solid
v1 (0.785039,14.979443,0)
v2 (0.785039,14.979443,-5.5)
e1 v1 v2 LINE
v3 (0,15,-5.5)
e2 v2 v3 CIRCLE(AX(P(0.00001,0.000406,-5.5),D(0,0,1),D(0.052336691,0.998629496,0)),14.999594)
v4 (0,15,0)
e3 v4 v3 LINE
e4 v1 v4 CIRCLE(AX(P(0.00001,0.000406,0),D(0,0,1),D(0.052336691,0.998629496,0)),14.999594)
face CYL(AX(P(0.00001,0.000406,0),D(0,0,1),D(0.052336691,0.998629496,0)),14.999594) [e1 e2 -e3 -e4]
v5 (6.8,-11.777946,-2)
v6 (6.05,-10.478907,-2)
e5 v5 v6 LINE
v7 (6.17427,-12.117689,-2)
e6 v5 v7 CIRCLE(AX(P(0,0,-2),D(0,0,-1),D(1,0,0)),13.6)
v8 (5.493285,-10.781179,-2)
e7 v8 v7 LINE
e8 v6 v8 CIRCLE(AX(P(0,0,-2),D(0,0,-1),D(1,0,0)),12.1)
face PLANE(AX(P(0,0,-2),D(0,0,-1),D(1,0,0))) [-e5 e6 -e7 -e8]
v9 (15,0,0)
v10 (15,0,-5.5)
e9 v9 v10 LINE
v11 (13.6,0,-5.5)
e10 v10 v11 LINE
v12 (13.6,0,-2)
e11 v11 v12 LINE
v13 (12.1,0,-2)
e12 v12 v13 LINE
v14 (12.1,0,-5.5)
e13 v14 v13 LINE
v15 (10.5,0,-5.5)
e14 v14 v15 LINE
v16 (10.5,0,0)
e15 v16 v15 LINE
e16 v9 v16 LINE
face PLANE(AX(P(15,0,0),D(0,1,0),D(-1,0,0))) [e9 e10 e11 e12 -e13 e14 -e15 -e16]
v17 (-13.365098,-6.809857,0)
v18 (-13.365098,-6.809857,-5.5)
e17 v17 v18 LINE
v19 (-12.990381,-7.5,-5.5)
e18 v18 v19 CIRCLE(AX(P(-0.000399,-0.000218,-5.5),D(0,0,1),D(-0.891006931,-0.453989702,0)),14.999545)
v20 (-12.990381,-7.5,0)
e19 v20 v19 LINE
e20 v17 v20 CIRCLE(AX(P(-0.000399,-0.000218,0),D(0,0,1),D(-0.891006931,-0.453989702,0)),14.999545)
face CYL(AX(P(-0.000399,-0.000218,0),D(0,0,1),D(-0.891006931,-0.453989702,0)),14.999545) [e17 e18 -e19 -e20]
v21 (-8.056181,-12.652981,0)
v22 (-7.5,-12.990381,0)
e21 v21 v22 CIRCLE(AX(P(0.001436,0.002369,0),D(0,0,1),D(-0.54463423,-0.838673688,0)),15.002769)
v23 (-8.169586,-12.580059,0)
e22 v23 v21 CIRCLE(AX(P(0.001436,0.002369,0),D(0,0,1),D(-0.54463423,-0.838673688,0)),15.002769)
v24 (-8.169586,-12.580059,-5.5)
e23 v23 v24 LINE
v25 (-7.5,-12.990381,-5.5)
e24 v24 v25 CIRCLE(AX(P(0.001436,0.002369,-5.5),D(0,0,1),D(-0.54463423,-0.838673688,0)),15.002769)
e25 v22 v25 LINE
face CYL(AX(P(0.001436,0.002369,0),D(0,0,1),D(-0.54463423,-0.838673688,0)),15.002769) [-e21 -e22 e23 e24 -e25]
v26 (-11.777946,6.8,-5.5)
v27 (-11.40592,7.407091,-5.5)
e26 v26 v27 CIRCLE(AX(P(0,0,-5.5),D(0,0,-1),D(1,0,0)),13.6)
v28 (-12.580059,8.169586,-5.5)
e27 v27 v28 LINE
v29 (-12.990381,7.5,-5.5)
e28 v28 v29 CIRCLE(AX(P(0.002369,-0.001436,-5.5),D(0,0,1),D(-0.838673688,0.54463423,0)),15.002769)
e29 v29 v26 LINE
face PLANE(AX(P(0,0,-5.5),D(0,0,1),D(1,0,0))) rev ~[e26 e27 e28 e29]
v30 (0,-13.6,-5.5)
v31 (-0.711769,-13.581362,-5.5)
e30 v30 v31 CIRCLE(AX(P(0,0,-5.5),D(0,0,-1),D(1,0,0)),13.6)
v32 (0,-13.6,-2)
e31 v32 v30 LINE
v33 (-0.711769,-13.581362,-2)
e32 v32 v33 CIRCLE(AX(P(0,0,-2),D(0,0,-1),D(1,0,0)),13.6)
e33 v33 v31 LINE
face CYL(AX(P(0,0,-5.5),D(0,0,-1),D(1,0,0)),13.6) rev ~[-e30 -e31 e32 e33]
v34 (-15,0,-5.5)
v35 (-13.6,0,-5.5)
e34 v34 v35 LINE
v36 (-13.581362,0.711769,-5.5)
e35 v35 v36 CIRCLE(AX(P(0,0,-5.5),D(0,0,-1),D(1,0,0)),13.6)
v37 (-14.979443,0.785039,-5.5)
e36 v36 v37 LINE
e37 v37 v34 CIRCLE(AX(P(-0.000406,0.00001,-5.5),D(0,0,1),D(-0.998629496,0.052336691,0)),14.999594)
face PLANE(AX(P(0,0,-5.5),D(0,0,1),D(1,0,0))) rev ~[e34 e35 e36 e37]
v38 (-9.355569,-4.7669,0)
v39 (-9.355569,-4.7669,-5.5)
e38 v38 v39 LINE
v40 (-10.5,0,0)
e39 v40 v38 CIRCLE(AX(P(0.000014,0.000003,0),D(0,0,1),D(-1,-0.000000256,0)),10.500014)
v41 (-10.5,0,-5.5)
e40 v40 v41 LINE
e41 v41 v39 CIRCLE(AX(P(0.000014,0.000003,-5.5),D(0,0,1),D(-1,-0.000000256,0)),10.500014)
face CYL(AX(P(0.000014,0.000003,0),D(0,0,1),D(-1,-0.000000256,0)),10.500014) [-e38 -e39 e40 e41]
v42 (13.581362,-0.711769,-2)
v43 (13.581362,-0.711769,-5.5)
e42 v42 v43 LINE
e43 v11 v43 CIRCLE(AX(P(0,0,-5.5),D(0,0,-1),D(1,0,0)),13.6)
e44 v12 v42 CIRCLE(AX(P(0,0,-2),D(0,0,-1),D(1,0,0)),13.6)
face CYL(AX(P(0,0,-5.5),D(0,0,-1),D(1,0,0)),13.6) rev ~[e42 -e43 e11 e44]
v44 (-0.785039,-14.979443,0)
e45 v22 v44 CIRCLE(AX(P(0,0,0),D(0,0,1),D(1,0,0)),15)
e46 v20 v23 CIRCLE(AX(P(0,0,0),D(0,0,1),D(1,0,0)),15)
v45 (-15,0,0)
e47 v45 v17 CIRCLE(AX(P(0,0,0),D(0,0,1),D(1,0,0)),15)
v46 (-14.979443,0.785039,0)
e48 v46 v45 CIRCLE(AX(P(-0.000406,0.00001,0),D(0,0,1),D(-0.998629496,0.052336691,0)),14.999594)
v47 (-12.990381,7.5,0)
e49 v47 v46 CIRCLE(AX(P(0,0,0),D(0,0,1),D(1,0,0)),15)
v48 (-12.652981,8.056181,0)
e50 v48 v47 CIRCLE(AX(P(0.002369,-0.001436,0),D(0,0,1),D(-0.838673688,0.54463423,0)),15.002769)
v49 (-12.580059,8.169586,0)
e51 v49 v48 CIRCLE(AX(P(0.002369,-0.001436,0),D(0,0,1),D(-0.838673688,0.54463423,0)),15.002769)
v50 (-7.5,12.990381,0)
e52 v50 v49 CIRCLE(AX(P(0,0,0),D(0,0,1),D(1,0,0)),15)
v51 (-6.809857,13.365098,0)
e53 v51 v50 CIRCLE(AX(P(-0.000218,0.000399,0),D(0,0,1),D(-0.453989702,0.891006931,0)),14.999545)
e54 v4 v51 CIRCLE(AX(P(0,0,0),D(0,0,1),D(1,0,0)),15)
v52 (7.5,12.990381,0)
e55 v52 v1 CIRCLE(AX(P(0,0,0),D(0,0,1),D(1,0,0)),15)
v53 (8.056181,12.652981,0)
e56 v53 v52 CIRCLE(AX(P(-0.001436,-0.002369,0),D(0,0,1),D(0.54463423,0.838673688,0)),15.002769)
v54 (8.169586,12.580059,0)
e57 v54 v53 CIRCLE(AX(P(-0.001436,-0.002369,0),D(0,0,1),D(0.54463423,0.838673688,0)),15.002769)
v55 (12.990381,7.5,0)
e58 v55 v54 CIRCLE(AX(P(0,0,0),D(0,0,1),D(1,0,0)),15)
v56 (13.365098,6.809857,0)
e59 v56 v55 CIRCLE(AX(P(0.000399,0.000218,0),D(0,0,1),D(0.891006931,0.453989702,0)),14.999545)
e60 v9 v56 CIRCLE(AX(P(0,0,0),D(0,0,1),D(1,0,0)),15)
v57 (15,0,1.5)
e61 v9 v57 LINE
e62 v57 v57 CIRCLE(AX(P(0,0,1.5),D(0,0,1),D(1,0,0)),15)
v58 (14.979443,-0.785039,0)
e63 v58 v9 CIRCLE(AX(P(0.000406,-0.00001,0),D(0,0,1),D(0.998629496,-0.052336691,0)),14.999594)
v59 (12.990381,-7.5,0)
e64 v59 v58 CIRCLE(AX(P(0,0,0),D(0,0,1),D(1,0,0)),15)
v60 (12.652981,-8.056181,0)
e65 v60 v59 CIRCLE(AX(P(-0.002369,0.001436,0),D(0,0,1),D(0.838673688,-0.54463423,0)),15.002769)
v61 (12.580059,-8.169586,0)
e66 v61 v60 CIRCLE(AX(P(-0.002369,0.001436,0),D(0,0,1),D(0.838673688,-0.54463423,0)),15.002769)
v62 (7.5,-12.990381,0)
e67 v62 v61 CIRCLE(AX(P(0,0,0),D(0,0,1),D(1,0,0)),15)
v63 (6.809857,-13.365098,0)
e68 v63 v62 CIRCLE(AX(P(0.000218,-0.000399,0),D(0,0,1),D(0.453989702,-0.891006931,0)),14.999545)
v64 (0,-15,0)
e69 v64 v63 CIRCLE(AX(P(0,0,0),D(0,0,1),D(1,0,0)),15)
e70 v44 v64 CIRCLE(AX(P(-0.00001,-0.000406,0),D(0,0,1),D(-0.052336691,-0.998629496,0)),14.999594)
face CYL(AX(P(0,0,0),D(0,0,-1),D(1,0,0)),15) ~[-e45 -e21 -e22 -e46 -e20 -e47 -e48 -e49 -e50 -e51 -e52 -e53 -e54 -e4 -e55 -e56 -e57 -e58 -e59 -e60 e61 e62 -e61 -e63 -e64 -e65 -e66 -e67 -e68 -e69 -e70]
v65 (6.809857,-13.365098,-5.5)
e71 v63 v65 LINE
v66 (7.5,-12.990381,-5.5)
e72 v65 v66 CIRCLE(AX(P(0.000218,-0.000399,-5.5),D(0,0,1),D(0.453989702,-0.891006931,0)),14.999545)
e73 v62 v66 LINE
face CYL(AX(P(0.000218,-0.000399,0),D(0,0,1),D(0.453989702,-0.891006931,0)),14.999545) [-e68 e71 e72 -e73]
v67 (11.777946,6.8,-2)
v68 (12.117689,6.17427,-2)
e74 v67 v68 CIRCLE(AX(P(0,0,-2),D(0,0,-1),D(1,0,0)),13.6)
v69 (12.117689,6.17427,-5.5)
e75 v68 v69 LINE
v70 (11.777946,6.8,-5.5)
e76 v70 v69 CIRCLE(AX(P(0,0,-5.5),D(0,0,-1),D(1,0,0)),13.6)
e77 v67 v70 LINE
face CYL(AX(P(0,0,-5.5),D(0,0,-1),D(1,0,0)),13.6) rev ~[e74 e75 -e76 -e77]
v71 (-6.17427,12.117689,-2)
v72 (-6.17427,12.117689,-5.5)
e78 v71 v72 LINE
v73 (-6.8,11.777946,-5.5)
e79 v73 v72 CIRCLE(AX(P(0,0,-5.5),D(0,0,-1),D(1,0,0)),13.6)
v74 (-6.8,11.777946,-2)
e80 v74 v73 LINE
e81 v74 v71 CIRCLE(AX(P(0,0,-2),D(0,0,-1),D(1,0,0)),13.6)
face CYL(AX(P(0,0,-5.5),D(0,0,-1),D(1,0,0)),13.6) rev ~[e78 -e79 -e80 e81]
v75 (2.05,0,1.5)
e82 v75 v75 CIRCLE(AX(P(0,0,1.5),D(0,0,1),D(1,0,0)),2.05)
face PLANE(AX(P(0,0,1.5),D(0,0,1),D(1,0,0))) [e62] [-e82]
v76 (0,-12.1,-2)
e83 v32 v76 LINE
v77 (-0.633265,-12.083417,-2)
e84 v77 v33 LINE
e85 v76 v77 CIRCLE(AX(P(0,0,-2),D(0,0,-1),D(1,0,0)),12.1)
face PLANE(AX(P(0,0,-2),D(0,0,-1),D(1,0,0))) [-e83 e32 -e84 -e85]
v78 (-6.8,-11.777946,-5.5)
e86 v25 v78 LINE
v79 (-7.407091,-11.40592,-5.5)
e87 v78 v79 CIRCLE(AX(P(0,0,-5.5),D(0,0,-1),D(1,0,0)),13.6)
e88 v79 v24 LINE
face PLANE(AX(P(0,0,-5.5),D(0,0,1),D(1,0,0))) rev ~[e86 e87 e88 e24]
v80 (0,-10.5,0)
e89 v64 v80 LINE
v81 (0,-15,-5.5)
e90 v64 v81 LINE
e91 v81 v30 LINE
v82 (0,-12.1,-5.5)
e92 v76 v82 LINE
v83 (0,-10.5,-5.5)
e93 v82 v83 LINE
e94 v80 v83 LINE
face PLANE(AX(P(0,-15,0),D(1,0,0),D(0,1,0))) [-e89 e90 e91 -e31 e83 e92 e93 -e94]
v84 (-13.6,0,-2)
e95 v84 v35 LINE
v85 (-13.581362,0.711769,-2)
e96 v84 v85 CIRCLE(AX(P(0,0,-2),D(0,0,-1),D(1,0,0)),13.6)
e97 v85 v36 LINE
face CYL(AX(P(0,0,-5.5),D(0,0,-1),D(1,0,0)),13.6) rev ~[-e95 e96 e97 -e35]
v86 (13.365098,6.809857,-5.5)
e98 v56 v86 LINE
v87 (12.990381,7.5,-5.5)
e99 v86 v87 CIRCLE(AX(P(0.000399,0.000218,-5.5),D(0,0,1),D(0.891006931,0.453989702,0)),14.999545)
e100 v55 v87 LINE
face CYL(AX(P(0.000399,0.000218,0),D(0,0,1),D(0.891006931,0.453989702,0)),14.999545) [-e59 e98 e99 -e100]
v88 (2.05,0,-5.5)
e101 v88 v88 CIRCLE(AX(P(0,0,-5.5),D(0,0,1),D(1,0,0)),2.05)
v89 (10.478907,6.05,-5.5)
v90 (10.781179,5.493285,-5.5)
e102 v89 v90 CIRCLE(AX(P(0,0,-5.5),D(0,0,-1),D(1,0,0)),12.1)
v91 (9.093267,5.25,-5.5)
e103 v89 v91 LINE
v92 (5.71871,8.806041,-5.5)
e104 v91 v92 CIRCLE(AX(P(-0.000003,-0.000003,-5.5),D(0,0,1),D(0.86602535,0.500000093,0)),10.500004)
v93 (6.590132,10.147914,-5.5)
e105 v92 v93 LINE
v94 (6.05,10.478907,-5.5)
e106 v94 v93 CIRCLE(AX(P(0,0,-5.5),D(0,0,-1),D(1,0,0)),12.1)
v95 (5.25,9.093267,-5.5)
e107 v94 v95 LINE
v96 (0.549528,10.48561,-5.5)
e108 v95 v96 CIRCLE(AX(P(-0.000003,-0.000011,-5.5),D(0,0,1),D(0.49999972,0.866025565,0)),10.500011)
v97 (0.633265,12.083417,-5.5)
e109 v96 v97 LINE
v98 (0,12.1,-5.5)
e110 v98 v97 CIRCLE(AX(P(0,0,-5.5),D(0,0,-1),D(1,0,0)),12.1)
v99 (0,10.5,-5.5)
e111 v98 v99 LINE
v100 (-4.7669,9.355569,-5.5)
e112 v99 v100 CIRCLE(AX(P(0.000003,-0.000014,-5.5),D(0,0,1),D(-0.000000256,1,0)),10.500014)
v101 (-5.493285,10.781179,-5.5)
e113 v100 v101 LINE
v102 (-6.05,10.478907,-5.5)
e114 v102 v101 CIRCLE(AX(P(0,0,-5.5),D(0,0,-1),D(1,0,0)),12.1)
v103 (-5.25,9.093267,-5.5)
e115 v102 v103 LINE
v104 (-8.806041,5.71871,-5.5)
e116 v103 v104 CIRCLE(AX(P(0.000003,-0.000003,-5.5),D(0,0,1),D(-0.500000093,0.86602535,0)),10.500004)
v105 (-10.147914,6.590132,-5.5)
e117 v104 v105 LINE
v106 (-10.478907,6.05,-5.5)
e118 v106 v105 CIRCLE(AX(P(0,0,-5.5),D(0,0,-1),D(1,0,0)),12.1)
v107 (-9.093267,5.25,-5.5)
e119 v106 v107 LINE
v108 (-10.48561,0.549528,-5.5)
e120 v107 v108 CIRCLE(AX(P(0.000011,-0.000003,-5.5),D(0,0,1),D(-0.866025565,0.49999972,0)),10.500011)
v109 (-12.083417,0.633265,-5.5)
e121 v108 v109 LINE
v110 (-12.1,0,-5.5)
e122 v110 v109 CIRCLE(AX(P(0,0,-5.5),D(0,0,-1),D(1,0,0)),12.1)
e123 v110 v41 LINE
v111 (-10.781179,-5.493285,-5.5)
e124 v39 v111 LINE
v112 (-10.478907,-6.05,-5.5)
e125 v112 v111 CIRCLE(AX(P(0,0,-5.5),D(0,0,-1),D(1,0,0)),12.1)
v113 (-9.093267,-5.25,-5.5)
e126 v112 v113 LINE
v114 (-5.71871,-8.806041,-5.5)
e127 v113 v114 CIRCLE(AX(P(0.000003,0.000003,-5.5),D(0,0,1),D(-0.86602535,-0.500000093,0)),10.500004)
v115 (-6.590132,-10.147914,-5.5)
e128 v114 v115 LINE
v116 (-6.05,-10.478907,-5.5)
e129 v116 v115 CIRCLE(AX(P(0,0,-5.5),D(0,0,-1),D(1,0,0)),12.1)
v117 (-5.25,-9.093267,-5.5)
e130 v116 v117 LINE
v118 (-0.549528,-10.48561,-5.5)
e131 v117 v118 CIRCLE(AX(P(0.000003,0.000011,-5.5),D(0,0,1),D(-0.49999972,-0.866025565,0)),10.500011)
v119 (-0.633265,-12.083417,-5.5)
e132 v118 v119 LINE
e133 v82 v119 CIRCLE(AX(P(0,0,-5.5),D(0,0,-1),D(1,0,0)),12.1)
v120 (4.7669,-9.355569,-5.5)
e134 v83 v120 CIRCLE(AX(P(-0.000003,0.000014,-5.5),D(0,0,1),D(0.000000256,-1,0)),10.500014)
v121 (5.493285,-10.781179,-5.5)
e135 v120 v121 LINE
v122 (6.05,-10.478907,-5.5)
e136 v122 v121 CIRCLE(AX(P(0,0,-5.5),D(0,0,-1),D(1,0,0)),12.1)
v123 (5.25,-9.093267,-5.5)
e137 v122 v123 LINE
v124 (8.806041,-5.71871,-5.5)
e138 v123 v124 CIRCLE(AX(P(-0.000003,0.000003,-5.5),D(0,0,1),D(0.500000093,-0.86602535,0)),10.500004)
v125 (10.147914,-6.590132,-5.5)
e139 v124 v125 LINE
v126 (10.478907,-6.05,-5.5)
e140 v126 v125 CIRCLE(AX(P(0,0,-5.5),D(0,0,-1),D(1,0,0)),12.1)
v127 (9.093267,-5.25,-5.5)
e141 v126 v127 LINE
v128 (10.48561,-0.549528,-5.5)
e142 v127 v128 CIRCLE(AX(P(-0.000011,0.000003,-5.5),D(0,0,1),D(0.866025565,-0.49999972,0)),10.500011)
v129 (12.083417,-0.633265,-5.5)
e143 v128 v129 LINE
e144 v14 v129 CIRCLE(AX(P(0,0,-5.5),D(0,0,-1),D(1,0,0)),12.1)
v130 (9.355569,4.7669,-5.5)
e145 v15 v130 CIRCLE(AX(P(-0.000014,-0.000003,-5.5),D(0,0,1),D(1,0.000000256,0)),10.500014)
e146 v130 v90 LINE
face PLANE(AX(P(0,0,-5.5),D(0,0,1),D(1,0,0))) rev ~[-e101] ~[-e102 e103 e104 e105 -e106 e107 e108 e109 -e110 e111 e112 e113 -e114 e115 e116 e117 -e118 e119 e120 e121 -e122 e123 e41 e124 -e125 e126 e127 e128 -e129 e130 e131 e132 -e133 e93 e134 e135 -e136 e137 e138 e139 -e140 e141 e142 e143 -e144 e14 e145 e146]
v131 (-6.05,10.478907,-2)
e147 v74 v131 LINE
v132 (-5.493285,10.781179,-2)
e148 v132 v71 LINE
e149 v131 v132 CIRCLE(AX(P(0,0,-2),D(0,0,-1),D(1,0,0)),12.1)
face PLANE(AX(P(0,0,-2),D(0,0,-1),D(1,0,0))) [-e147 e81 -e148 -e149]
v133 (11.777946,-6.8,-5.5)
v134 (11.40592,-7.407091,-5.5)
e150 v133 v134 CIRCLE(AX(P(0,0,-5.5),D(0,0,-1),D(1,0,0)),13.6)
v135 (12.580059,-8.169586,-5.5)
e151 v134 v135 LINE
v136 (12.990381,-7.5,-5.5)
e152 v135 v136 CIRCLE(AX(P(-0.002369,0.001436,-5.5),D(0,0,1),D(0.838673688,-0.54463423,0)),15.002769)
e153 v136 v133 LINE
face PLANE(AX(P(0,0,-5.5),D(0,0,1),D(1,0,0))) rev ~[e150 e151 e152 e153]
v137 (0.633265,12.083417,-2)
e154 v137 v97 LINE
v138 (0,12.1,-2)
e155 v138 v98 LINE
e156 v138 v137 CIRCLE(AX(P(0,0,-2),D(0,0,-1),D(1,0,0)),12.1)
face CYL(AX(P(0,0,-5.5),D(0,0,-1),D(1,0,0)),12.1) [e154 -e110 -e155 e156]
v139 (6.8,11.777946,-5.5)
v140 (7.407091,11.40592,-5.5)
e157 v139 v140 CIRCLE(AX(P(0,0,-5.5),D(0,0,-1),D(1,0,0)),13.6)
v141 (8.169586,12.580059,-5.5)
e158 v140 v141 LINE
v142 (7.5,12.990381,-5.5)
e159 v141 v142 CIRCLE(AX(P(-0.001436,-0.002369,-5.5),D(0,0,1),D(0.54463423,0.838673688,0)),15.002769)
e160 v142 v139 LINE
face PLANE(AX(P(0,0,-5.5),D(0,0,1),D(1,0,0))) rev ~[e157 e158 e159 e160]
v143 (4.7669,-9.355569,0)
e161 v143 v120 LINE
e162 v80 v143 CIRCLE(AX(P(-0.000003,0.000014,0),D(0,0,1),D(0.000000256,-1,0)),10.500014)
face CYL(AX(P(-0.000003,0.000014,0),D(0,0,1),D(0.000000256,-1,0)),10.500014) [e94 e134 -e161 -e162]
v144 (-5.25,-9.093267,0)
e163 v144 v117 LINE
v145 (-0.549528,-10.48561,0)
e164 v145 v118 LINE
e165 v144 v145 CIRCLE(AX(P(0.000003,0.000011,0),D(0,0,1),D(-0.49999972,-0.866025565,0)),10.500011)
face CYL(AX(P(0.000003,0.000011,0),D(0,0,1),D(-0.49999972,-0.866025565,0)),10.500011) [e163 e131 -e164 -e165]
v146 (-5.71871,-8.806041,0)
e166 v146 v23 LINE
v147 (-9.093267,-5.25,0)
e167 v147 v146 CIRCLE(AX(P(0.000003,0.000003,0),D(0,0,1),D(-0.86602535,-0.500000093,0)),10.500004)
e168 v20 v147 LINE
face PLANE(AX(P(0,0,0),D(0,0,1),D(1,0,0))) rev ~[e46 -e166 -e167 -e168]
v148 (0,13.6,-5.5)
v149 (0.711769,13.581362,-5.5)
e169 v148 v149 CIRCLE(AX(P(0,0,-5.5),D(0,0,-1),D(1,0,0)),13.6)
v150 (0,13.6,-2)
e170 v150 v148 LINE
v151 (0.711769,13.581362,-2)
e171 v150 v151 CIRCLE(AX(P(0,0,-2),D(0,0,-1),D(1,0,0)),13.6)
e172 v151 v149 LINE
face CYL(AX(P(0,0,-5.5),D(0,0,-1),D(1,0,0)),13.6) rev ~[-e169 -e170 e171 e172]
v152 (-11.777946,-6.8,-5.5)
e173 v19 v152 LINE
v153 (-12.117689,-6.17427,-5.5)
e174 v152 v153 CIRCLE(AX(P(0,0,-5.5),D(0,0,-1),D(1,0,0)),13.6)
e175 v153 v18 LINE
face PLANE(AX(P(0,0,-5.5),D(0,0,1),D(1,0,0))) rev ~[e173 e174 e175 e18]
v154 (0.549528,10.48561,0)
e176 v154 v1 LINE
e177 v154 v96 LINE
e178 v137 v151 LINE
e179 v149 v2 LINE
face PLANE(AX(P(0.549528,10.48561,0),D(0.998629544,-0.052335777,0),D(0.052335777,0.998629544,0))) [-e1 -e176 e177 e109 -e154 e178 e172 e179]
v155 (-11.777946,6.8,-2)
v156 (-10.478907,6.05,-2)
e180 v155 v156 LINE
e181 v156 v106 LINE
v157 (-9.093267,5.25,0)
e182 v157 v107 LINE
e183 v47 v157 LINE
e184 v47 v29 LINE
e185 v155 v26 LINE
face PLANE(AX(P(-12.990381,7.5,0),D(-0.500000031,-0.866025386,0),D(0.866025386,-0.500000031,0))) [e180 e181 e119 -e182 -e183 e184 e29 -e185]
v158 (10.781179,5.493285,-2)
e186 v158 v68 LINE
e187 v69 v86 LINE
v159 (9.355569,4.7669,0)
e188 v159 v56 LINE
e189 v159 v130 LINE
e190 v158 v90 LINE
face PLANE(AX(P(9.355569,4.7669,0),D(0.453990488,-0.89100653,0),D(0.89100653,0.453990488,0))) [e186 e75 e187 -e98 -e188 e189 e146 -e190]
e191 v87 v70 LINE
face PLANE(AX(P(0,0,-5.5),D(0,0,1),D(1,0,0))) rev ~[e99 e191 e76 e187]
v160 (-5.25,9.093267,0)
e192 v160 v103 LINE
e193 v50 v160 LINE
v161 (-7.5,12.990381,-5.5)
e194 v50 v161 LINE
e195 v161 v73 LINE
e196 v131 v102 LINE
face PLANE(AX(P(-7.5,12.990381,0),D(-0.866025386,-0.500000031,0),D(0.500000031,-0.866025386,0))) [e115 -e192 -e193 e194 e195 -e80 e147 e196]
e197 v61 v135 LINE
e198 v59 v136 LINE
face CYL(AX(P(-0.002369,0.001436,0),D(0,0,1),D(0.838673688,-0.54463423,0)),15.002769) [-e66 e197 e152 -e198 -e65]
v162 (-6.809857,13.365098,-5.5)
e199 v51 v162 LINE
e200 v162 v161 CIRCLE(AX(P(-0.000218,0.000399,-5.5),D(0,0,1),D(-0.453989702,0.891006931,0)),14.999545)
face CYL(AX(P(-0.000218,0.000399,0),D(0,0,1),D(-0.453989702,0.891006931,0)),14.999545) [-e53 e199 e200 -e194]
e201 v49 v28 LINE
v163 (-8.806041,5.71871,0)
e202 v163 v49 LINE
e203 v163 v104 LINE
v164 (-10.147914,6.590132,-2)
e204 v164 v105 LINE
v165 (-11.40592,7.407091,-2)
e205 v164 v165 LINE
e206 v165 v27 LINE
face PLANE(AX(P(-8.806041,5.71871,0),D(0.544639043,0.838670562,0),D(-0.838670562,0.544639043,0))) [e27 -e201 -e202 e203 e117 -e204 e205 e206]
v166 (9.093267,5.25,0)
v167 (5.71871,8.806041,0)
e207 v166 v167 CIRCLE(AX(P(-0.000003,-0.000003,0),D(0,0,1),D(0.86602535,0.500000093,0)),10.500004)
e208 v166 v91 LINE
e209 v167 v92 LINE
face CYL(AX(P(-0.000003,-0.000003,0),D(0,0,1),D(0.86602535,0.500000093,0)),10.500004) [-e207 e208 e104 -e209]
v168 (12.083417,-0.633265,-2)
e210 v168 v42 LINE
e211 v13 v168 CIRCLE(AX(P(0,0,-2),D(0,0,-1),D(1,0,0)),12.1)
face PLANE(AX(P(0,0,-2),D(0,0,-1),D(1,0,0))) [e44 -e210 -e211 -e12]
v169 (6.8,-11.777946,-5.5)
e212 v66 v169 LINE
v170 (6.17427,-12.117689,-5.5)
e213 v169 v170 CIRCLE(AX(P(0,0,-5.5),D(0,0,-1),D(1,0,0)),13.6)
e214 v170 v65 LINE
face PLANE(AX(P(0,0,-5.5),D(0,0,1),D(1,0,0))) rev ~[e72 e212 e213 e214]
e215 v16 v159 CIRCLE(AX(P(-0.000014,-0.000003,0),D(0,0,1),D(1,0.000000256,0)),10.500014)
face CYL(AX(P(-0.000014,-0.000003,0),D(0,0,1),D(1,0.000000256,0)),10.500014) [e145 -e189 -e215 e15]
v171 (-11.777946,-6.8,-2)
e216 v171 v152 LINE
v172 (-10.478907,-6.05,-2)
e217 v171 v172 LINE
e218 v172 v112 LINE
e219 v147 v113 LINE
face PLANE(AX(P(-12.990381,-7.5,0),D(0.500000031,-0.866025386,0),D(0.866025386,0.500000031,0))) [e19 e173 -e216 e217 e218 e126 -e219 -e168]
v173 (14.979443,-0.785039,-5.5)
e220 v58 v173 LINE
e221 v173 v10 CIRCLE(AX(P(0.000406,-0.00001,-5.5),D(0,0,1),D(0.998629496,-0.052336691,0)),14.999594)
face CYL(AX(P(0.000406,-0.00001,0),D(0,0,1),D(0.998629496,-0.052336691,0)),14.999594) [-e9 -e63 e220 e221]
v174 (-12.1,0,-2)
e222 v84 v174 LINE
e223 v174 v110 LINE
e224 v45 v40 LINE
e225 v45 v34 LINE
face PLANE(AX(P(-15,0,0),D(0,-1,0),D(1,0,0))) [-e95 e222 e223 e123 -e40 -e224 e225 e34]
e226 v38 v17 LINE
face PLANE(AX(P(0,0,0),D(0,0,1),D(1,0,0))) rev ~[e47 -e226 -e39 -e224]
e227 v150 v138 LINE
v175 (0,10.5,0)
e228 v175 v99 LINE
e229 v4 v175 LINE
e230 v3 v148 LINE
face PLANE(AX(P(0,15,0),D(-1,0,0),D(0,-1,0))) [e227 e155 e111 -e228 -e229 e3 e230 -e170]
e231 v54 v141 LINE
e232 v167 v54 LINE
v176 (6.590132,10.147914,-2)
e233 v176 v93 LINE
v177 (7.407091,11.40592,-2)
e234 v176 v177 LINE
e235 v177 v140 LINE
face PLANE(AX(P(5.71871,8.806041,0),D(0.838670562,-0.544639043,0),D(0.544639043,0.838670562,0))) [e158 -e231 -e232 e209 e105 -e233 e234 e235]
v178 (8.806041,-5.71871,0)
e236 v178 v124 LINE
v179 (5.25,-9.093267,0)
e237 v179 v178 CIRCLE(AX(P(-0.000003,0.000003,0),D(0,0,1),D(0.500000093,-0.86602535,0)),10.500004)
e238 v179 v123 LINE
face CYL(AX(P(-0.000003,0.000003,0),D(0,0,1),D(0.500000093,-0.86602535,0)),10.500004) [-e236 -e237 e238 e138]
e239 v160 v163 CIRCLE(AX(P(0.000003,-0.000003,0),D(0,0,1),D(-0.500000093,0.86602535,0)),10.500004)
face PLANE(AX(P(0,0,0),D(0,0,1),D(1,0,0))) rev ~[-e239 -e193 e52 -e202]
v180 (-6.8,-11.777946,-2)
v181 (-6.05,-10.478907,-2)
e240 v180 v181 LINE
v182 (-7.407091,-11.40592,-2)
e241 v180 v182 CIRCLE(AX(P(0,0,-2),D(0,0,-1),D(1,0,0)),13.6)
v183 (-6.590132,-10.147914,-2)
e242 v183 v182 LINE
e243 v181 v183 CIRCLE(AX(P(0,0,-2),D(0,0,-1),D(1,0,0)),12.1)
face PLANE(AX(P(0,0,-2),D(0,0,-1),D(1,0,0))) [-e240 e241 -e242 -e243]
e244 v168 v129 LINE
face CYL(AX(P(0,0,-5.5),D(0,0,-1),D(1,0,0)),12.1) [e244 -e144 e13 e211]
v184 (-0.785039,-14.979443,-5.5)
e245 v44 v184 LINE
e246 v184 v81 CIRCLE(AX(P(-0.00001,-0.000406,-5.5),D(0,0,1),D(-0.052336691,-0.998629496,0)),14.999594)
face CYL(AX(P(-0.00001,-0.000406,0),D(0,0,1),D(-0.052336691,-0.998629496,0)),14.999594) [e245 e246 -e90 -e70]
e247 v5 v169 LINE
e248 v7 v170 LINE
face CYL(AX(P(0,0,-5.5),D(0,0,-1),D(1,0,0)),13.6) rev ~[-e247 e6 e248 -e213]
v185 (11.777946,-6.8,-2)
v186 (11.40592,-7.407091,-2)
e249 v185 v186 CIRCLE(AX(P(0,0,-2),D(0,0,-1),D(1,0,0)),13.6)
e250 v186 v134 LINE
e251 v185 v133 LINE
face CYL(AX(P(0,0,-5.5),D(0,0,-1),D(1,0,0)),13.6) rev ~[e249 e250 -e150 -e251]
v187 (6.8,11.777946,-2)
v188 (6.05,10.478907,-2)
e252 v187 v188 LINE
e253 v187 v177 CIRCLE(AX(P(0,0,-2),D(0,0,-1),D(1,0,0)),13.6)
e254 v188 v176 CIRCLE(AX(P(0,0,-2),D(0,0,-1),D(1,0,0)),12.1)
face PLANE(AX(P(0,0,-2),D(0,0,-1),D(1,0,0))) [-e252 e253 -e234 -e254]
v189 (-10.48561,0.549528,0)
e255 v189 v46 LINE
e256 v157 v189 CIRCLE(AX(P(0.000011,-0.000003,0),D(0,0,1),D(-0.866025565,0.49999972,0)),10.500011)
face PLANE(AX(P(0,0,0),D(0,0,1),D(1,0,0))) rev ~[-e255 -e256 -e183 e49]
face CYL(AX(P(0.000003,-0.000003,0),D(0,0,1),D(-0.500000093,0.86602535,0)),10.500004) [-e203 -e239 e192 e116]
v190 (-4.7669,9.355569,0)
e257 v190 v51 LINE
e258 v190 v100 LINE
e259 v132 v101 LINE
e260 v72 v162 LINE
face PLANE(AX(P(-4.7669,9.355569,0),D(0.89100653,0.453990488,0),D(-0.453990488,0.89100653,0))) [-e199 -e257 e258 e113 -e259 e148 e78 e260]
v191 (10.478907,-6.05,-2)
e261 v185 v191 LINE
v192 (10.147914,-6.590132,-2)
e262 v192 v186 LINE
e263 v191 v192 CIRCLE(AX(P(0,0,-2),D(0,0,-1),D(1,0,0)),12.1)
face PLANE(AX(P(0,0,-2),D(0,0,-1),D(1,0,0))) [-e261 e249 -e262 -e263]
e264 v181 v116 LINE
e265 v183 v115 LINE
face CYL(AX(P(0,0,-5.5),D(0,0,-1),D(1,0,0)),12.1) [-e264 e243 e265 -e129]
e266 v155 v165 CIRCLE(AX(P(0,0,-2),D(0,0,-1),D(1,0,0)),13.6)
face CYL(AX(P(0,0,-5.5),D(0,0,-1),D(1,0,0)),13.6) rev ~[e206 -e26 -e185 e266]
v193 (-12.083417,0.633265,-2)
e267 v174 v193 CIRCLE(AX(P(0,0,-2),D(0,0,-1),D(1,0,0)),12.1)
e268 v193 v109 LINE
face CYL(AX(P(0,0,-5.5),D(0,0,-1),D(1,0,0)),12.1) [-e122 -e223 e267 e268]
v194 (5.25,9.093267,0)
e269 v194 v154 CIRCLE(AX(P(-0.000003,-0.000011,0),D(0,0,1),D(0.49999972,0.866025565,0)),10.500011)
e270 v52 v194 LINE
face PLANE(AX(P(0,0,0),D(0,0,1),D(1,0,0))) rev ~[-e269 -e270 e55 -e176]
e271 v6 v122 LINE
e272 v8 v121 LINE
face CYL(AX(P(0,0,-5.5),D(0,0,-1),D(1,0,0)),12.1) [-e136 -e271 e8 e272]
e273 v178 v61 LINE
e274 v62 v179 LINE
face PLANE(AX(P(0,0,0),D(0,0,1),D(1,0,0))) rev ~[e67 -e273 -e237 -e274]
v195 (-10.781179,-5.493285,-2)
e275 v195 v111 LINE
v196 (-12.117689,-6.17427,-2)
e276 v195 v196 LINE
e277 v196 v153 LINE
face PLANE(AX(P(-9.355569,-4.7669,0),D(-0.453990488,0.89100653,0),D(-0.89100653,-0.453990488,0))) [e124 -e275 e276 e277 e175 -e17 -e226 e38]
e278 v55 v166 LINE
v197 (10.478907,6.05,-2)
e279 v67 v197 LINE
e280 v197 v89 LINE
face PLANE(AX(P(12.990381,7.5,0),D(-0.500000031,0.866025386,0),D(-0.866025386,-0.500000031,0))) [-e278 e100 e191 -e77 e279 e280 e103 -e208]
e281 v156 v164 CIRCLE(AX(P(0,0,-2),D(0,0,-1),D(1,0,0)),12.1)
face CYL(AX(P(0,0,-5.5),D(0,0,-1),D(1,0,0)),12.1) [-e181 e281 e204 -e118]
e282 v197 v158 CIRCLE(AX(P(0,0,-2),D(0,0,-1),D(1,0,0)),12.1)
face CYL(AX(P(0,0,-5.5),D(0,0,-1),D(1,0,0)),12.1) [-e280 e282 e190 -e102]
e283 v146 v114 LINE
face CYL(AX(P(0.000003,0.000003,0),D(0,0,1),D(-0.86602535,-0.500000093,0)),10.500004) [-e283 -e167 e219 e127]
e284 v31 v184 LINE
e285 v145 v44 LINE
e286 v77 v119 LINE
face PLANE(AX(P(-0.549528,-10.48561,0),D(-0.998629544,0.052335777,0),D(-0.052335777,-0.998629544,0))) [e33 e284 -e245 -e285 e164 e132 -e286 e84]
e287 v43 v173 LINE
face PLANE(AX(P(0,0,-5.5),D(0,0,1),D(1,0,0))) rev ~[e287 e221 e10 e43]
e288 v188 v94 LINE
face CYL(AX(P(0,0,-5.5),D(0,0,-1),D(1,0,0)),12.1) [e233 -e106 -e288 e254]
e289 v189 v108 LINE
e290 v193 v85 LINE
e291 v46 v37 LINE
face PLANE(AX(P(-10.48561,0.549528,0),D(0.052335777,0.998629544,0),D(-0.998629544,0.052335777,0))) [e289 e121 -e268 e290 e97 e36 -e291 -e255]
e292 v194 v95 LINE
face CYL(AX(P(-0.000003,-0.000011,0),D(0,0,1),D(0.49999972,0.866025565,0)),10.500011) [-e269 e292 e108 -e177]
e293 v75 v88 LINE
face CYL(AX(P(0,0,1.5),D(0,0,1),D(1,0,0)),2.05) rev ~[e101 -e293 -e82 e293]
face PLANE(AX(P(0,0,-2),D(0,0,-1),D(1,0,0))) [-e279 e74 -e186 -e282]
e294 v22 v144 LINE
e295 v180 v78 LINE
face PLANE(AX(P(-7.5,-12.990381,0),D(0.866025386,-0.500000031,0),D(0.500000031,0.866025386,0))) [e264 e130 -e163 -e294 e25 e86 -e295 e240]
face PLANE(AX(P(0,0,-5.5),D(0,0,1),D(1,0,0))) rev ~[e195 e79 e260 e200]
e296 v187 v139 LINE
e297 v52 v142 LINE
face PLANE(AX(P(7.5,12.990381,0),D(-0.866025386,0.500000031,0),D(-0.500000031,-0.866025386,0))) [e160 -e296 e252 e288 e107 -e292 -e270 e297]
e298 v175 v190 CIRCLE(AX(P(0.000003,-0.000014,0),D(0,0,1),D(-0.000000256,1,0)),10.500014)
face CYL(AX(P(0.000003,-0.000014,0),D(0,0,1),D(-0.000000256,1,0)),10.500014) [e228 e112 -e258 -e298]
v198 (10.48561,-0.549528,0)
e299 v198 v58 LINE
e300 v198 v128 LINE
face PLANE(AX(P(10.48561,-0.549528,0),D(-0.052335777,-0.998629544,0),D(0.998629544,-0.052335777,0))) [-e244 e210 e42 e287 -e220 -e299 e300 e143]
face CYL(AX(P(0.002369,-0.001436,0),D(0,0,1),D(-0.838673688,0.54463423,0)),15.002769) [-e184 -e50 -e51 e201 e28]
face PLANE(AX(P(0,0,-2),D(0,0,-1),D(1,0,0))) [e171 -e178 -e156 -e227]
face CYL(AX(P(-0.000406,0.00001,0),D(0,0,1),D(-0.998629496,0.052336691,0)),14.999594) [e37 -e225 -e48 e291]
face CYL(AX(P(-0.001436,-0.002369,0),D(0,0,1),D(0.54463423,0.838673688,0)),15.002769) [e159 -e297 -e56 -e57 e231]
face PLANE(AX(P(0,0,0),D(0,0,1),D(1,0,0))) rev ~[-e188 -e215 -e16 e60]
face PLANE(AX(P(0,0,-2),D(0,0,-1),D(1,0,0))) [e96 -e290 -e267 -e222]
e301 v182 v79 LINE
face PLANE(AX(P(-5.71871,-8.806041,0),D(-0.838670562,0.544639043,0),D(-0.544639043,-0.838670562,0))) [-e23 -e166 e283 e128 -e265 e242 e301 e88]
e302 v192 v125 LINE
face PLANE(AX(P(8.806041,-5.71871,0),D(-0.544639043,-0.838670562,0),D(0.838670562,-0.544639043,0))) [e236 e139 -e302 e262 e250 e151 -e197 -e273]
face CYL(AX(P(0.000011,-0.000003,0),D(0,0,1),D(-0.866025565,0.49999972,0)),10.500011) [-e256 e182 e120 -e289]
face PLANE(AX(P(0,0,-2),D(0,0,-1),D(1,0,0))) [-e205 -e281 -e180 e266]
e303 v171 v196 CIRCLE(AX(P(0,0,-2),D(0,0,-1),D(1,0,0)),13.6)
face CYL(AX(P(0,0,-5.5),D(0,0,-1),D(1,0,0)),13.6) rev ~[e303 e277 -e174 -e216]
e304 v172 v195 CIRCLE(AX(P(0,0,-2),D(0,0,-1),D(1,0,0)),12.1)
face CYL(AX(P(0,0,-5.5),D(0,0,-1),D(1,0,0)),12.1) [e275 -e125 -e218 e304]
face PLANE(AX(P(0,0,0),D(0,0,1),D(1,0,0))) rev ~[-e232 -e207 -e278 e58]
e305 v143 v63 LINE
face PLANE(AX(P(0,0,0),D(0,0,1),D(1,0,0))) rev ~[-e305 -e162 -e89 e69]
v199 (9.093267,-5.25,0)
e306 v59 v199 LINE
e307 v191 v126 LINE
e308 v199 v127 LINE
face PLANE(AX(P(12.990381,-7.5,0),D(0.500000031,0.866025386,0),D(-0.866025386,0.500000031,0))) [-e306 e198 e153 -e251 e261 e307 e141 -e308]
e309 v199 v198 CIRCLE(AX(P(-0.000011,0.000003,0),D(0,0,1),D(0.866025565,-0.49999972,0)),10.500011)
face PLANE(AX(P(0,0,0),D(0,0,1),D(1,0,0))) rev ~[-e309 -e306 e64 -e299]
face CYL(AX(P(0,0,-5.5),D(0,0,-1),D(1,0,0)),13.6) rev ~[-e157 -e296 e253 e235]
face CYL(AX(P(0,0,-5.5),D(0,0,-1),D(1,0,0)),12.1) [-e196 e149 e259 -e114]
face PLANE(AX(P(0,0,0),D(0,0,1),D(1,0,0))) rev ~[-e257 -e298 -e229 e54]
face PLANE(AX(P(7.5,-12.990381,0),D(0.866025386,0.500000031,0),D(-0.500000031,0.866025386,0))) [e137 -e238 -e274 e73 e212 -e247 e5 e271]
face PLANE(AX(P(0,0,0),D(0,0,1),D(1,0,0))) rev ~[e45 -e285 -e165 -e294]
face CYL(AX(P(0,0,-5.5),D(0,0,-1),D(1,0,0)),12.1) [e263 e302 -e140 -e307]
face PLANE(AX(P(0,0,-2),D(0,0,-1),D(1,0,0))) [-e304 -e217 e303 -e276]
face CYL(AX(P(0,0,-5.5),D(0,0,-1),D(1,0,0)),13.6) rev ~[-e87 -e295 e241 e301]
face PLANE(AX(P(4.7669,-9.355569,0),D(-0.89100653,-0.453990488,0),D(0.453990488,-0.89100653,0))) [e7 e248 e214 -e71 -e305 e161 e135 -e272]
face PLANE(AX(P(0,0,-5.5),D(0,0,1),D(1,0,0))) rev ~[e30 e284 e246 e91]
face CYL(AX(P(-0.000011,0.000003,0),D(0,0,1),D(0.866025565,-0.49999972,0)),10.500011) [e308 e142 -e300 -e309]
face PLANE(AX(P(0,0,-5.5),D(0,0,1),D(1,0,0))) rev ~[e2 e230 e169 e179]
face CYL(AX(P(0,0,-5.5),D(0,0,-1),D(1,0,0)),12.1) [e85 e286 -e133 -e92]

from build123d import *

# Parameters (mm, degrees)
F1_DEPTH = 5.5
F2_R     = 15
F3_DEPTH = 1.5
F4_R     = 13.6
F4_R_2   = 12.1
F5_DEPTH = 3.5
F6_R     = 2.05
F7_DEPTH = 7.001


with BuildPart() as f1:
    # F0 (on Top) → F1 (new body)
    with BuildSketch(Plane.XY):
        with BuildLine():
            Line((8.806041, -5.71871), (12.580059, -8.169586))
            ThreePointArc((12.580059, -8.169586), (12.789602, -7.837478), (12.990381, -7.5))
            Line((12.990381, -7.5), (9.093267, -5.25))
            ThreePointArc((9.093267, -5.25), (10.067607, -2.982161), (10.48561, -0.549528))
            Line((10.48561, -0.549528), (14.979443, -0.785039))
            ThreePointArc((14.979443, -0.785039), (14.99486, -0.392654), (15, 0))
            Line((15, 0), (10.5, 0))
            ThreePointArc((10.5, 0), (10.209884, 2.451176), (9.355569, 4.7669))
            Line((9.355569, 4.7669), (13.365098, 6.809857))
            ThreePointArc((13.365098, 6.809857), (13.182257, 7.157381), (12.990381, 7.5))
            Line((12.990381, 7.5), (9.093267, 5.25))
            ThreePointArc((9.093267, 5.25), (7.616431, 7.227723), (5.71871, 8.806041))
            Line((5.71871, 8.806041), (8.169586, 12.580059))
            ThreePointArc((8.169586, 12.580059), (7.837478, 12.789602), (7.5, 12.990381))
            Line((7.5, 12.990381), (5.25, 9.093267))
            ThreePointArc((5.25, 9.093267), (2.982161, 10.067607), (0.549528, 10.48561))
            Line((0.549528, 10.48561), (0.785039, 14.979443))
            ThreePointArc((0.785039, 14.979443), (0.392654, 14.99486), (0, 15))
            Line((0, 15), (0, 10.5))
            ThreePointArc((0, 10.5), (-2.451176, 10.209884), (-4.7669, 9.355569))
            Line((-4.7669, 9.355569), (-6.809857, 13.365098))
            ThreePointArc((-6.809857, 13.365098), (-7.157381, 13.182257), (-7.5, 12.990381))
            Line((-7.5, 12.990381), (-5.25, 9.093267))
            ThreePointArc((-5.25, 9.093267), (-7.227723, 7.616431), (-8.806041, 5.71871))
            Line((-8.806041, 5.71871), (-12.580059, 8.169586))
            ThreePointArc((-12.580059, 8.169586), (-12.789602, 7.837478), (-12.990381, 7.5))
            Line((-12.990381, 7.5), (-9.093267, 5.25))
            ThreePointArc((-9.093267, 5.25), (-10.067607, 2.982161), (-10.48561, 0.549528))
            Line((-10.48561, 0.549528), (-14.979443, 0.785039))
            ThreePointArc((-14.979443, 0.785039), (-14.99486, 0.392654), (-15, 0))
            Line((-15, 0), (-10.5, 0))
            ThreePointArc((-10.5, 0), (-10.209884, -2.451176), (-9.355569, -4.7669))
            Line((-9.355569, -4.7669), (-13.365098, -6.809857))
            ThreePointArc((-13.365098, -6.809857), (-13.182257, -7.157381), (-12.990381, -7.5))
            Line((-12.990381, -7.5), (-9.093267, -5.25))
            ThreePointArc((-9.093267, -5.25), (-7.616431, -7.227723), (-5.71871, -8.806041))
            Line((-5.71871, -8.806041), (-8.169586, -12.580059))
            ThreePointArc((-8.169586, -12.580059), (-7.837478, -12.789602), (-7.5, -12.990381))
            Line((-7.5, -12.990381), (-5.25, -9.093267))
            ThreePointArc((-5.25, -9.093267), (-2.982161, -10.067607), (-0.549528, -10.48561))
            Line((-0.549528, -10.48561), (-0.785039, -14.979443))
            ThreePointArc((-0.785039, -14.979443), (-0.392654, -14.99486), (0, -15))
            Line((0, -15), (0, -10.5))
            ThreePointArc((0, -10.5), (2.451176, -10.209884), (4.7669, -9.355569))
            Line((4.7669, -9.355569), (6.809857, -13.365098))
            ThreePointArc((6.809857, -13.365098), (7.157381, -13.182257), (7.5, -12.990381))
            Line((7.5, -12.990381), (5.25, -9.093267))
            ThreePointArc((5.25, -9.093267), (7.227723, -7.616431), (8.806041, -5.71871))
        make_face()
    extrude(amount=-F1_DEPTH)

    # F2 (on face) → F3 (join)
    with BuildSketch(Plane.XY):
        Circle(F2_R)
    extrude(amount=F3_DEPTH)

    # F4 (on face) → F5 (cut)
    with BuildSketch(Plane(origin=(0, 0, -5.5), x_dir=(1, 0, 0), z_dir=(0, 0, -1))):
        Circle(F4_R)
        Circle(F4_R_2, mode=Mode.SUBTRACT)
    extrude(amount=-F5_DEPTH, mode=Mode.SUBTRACT)

    # F6 (on face) → F7 (cut, through all)
    with BuildSketch(Plane.XY.offset(1.5)):
        Circle(F6_R)
    extrude(amount=-F7_DEPTH, mode=Mode.SUBTRACT)


solid = f1.part
